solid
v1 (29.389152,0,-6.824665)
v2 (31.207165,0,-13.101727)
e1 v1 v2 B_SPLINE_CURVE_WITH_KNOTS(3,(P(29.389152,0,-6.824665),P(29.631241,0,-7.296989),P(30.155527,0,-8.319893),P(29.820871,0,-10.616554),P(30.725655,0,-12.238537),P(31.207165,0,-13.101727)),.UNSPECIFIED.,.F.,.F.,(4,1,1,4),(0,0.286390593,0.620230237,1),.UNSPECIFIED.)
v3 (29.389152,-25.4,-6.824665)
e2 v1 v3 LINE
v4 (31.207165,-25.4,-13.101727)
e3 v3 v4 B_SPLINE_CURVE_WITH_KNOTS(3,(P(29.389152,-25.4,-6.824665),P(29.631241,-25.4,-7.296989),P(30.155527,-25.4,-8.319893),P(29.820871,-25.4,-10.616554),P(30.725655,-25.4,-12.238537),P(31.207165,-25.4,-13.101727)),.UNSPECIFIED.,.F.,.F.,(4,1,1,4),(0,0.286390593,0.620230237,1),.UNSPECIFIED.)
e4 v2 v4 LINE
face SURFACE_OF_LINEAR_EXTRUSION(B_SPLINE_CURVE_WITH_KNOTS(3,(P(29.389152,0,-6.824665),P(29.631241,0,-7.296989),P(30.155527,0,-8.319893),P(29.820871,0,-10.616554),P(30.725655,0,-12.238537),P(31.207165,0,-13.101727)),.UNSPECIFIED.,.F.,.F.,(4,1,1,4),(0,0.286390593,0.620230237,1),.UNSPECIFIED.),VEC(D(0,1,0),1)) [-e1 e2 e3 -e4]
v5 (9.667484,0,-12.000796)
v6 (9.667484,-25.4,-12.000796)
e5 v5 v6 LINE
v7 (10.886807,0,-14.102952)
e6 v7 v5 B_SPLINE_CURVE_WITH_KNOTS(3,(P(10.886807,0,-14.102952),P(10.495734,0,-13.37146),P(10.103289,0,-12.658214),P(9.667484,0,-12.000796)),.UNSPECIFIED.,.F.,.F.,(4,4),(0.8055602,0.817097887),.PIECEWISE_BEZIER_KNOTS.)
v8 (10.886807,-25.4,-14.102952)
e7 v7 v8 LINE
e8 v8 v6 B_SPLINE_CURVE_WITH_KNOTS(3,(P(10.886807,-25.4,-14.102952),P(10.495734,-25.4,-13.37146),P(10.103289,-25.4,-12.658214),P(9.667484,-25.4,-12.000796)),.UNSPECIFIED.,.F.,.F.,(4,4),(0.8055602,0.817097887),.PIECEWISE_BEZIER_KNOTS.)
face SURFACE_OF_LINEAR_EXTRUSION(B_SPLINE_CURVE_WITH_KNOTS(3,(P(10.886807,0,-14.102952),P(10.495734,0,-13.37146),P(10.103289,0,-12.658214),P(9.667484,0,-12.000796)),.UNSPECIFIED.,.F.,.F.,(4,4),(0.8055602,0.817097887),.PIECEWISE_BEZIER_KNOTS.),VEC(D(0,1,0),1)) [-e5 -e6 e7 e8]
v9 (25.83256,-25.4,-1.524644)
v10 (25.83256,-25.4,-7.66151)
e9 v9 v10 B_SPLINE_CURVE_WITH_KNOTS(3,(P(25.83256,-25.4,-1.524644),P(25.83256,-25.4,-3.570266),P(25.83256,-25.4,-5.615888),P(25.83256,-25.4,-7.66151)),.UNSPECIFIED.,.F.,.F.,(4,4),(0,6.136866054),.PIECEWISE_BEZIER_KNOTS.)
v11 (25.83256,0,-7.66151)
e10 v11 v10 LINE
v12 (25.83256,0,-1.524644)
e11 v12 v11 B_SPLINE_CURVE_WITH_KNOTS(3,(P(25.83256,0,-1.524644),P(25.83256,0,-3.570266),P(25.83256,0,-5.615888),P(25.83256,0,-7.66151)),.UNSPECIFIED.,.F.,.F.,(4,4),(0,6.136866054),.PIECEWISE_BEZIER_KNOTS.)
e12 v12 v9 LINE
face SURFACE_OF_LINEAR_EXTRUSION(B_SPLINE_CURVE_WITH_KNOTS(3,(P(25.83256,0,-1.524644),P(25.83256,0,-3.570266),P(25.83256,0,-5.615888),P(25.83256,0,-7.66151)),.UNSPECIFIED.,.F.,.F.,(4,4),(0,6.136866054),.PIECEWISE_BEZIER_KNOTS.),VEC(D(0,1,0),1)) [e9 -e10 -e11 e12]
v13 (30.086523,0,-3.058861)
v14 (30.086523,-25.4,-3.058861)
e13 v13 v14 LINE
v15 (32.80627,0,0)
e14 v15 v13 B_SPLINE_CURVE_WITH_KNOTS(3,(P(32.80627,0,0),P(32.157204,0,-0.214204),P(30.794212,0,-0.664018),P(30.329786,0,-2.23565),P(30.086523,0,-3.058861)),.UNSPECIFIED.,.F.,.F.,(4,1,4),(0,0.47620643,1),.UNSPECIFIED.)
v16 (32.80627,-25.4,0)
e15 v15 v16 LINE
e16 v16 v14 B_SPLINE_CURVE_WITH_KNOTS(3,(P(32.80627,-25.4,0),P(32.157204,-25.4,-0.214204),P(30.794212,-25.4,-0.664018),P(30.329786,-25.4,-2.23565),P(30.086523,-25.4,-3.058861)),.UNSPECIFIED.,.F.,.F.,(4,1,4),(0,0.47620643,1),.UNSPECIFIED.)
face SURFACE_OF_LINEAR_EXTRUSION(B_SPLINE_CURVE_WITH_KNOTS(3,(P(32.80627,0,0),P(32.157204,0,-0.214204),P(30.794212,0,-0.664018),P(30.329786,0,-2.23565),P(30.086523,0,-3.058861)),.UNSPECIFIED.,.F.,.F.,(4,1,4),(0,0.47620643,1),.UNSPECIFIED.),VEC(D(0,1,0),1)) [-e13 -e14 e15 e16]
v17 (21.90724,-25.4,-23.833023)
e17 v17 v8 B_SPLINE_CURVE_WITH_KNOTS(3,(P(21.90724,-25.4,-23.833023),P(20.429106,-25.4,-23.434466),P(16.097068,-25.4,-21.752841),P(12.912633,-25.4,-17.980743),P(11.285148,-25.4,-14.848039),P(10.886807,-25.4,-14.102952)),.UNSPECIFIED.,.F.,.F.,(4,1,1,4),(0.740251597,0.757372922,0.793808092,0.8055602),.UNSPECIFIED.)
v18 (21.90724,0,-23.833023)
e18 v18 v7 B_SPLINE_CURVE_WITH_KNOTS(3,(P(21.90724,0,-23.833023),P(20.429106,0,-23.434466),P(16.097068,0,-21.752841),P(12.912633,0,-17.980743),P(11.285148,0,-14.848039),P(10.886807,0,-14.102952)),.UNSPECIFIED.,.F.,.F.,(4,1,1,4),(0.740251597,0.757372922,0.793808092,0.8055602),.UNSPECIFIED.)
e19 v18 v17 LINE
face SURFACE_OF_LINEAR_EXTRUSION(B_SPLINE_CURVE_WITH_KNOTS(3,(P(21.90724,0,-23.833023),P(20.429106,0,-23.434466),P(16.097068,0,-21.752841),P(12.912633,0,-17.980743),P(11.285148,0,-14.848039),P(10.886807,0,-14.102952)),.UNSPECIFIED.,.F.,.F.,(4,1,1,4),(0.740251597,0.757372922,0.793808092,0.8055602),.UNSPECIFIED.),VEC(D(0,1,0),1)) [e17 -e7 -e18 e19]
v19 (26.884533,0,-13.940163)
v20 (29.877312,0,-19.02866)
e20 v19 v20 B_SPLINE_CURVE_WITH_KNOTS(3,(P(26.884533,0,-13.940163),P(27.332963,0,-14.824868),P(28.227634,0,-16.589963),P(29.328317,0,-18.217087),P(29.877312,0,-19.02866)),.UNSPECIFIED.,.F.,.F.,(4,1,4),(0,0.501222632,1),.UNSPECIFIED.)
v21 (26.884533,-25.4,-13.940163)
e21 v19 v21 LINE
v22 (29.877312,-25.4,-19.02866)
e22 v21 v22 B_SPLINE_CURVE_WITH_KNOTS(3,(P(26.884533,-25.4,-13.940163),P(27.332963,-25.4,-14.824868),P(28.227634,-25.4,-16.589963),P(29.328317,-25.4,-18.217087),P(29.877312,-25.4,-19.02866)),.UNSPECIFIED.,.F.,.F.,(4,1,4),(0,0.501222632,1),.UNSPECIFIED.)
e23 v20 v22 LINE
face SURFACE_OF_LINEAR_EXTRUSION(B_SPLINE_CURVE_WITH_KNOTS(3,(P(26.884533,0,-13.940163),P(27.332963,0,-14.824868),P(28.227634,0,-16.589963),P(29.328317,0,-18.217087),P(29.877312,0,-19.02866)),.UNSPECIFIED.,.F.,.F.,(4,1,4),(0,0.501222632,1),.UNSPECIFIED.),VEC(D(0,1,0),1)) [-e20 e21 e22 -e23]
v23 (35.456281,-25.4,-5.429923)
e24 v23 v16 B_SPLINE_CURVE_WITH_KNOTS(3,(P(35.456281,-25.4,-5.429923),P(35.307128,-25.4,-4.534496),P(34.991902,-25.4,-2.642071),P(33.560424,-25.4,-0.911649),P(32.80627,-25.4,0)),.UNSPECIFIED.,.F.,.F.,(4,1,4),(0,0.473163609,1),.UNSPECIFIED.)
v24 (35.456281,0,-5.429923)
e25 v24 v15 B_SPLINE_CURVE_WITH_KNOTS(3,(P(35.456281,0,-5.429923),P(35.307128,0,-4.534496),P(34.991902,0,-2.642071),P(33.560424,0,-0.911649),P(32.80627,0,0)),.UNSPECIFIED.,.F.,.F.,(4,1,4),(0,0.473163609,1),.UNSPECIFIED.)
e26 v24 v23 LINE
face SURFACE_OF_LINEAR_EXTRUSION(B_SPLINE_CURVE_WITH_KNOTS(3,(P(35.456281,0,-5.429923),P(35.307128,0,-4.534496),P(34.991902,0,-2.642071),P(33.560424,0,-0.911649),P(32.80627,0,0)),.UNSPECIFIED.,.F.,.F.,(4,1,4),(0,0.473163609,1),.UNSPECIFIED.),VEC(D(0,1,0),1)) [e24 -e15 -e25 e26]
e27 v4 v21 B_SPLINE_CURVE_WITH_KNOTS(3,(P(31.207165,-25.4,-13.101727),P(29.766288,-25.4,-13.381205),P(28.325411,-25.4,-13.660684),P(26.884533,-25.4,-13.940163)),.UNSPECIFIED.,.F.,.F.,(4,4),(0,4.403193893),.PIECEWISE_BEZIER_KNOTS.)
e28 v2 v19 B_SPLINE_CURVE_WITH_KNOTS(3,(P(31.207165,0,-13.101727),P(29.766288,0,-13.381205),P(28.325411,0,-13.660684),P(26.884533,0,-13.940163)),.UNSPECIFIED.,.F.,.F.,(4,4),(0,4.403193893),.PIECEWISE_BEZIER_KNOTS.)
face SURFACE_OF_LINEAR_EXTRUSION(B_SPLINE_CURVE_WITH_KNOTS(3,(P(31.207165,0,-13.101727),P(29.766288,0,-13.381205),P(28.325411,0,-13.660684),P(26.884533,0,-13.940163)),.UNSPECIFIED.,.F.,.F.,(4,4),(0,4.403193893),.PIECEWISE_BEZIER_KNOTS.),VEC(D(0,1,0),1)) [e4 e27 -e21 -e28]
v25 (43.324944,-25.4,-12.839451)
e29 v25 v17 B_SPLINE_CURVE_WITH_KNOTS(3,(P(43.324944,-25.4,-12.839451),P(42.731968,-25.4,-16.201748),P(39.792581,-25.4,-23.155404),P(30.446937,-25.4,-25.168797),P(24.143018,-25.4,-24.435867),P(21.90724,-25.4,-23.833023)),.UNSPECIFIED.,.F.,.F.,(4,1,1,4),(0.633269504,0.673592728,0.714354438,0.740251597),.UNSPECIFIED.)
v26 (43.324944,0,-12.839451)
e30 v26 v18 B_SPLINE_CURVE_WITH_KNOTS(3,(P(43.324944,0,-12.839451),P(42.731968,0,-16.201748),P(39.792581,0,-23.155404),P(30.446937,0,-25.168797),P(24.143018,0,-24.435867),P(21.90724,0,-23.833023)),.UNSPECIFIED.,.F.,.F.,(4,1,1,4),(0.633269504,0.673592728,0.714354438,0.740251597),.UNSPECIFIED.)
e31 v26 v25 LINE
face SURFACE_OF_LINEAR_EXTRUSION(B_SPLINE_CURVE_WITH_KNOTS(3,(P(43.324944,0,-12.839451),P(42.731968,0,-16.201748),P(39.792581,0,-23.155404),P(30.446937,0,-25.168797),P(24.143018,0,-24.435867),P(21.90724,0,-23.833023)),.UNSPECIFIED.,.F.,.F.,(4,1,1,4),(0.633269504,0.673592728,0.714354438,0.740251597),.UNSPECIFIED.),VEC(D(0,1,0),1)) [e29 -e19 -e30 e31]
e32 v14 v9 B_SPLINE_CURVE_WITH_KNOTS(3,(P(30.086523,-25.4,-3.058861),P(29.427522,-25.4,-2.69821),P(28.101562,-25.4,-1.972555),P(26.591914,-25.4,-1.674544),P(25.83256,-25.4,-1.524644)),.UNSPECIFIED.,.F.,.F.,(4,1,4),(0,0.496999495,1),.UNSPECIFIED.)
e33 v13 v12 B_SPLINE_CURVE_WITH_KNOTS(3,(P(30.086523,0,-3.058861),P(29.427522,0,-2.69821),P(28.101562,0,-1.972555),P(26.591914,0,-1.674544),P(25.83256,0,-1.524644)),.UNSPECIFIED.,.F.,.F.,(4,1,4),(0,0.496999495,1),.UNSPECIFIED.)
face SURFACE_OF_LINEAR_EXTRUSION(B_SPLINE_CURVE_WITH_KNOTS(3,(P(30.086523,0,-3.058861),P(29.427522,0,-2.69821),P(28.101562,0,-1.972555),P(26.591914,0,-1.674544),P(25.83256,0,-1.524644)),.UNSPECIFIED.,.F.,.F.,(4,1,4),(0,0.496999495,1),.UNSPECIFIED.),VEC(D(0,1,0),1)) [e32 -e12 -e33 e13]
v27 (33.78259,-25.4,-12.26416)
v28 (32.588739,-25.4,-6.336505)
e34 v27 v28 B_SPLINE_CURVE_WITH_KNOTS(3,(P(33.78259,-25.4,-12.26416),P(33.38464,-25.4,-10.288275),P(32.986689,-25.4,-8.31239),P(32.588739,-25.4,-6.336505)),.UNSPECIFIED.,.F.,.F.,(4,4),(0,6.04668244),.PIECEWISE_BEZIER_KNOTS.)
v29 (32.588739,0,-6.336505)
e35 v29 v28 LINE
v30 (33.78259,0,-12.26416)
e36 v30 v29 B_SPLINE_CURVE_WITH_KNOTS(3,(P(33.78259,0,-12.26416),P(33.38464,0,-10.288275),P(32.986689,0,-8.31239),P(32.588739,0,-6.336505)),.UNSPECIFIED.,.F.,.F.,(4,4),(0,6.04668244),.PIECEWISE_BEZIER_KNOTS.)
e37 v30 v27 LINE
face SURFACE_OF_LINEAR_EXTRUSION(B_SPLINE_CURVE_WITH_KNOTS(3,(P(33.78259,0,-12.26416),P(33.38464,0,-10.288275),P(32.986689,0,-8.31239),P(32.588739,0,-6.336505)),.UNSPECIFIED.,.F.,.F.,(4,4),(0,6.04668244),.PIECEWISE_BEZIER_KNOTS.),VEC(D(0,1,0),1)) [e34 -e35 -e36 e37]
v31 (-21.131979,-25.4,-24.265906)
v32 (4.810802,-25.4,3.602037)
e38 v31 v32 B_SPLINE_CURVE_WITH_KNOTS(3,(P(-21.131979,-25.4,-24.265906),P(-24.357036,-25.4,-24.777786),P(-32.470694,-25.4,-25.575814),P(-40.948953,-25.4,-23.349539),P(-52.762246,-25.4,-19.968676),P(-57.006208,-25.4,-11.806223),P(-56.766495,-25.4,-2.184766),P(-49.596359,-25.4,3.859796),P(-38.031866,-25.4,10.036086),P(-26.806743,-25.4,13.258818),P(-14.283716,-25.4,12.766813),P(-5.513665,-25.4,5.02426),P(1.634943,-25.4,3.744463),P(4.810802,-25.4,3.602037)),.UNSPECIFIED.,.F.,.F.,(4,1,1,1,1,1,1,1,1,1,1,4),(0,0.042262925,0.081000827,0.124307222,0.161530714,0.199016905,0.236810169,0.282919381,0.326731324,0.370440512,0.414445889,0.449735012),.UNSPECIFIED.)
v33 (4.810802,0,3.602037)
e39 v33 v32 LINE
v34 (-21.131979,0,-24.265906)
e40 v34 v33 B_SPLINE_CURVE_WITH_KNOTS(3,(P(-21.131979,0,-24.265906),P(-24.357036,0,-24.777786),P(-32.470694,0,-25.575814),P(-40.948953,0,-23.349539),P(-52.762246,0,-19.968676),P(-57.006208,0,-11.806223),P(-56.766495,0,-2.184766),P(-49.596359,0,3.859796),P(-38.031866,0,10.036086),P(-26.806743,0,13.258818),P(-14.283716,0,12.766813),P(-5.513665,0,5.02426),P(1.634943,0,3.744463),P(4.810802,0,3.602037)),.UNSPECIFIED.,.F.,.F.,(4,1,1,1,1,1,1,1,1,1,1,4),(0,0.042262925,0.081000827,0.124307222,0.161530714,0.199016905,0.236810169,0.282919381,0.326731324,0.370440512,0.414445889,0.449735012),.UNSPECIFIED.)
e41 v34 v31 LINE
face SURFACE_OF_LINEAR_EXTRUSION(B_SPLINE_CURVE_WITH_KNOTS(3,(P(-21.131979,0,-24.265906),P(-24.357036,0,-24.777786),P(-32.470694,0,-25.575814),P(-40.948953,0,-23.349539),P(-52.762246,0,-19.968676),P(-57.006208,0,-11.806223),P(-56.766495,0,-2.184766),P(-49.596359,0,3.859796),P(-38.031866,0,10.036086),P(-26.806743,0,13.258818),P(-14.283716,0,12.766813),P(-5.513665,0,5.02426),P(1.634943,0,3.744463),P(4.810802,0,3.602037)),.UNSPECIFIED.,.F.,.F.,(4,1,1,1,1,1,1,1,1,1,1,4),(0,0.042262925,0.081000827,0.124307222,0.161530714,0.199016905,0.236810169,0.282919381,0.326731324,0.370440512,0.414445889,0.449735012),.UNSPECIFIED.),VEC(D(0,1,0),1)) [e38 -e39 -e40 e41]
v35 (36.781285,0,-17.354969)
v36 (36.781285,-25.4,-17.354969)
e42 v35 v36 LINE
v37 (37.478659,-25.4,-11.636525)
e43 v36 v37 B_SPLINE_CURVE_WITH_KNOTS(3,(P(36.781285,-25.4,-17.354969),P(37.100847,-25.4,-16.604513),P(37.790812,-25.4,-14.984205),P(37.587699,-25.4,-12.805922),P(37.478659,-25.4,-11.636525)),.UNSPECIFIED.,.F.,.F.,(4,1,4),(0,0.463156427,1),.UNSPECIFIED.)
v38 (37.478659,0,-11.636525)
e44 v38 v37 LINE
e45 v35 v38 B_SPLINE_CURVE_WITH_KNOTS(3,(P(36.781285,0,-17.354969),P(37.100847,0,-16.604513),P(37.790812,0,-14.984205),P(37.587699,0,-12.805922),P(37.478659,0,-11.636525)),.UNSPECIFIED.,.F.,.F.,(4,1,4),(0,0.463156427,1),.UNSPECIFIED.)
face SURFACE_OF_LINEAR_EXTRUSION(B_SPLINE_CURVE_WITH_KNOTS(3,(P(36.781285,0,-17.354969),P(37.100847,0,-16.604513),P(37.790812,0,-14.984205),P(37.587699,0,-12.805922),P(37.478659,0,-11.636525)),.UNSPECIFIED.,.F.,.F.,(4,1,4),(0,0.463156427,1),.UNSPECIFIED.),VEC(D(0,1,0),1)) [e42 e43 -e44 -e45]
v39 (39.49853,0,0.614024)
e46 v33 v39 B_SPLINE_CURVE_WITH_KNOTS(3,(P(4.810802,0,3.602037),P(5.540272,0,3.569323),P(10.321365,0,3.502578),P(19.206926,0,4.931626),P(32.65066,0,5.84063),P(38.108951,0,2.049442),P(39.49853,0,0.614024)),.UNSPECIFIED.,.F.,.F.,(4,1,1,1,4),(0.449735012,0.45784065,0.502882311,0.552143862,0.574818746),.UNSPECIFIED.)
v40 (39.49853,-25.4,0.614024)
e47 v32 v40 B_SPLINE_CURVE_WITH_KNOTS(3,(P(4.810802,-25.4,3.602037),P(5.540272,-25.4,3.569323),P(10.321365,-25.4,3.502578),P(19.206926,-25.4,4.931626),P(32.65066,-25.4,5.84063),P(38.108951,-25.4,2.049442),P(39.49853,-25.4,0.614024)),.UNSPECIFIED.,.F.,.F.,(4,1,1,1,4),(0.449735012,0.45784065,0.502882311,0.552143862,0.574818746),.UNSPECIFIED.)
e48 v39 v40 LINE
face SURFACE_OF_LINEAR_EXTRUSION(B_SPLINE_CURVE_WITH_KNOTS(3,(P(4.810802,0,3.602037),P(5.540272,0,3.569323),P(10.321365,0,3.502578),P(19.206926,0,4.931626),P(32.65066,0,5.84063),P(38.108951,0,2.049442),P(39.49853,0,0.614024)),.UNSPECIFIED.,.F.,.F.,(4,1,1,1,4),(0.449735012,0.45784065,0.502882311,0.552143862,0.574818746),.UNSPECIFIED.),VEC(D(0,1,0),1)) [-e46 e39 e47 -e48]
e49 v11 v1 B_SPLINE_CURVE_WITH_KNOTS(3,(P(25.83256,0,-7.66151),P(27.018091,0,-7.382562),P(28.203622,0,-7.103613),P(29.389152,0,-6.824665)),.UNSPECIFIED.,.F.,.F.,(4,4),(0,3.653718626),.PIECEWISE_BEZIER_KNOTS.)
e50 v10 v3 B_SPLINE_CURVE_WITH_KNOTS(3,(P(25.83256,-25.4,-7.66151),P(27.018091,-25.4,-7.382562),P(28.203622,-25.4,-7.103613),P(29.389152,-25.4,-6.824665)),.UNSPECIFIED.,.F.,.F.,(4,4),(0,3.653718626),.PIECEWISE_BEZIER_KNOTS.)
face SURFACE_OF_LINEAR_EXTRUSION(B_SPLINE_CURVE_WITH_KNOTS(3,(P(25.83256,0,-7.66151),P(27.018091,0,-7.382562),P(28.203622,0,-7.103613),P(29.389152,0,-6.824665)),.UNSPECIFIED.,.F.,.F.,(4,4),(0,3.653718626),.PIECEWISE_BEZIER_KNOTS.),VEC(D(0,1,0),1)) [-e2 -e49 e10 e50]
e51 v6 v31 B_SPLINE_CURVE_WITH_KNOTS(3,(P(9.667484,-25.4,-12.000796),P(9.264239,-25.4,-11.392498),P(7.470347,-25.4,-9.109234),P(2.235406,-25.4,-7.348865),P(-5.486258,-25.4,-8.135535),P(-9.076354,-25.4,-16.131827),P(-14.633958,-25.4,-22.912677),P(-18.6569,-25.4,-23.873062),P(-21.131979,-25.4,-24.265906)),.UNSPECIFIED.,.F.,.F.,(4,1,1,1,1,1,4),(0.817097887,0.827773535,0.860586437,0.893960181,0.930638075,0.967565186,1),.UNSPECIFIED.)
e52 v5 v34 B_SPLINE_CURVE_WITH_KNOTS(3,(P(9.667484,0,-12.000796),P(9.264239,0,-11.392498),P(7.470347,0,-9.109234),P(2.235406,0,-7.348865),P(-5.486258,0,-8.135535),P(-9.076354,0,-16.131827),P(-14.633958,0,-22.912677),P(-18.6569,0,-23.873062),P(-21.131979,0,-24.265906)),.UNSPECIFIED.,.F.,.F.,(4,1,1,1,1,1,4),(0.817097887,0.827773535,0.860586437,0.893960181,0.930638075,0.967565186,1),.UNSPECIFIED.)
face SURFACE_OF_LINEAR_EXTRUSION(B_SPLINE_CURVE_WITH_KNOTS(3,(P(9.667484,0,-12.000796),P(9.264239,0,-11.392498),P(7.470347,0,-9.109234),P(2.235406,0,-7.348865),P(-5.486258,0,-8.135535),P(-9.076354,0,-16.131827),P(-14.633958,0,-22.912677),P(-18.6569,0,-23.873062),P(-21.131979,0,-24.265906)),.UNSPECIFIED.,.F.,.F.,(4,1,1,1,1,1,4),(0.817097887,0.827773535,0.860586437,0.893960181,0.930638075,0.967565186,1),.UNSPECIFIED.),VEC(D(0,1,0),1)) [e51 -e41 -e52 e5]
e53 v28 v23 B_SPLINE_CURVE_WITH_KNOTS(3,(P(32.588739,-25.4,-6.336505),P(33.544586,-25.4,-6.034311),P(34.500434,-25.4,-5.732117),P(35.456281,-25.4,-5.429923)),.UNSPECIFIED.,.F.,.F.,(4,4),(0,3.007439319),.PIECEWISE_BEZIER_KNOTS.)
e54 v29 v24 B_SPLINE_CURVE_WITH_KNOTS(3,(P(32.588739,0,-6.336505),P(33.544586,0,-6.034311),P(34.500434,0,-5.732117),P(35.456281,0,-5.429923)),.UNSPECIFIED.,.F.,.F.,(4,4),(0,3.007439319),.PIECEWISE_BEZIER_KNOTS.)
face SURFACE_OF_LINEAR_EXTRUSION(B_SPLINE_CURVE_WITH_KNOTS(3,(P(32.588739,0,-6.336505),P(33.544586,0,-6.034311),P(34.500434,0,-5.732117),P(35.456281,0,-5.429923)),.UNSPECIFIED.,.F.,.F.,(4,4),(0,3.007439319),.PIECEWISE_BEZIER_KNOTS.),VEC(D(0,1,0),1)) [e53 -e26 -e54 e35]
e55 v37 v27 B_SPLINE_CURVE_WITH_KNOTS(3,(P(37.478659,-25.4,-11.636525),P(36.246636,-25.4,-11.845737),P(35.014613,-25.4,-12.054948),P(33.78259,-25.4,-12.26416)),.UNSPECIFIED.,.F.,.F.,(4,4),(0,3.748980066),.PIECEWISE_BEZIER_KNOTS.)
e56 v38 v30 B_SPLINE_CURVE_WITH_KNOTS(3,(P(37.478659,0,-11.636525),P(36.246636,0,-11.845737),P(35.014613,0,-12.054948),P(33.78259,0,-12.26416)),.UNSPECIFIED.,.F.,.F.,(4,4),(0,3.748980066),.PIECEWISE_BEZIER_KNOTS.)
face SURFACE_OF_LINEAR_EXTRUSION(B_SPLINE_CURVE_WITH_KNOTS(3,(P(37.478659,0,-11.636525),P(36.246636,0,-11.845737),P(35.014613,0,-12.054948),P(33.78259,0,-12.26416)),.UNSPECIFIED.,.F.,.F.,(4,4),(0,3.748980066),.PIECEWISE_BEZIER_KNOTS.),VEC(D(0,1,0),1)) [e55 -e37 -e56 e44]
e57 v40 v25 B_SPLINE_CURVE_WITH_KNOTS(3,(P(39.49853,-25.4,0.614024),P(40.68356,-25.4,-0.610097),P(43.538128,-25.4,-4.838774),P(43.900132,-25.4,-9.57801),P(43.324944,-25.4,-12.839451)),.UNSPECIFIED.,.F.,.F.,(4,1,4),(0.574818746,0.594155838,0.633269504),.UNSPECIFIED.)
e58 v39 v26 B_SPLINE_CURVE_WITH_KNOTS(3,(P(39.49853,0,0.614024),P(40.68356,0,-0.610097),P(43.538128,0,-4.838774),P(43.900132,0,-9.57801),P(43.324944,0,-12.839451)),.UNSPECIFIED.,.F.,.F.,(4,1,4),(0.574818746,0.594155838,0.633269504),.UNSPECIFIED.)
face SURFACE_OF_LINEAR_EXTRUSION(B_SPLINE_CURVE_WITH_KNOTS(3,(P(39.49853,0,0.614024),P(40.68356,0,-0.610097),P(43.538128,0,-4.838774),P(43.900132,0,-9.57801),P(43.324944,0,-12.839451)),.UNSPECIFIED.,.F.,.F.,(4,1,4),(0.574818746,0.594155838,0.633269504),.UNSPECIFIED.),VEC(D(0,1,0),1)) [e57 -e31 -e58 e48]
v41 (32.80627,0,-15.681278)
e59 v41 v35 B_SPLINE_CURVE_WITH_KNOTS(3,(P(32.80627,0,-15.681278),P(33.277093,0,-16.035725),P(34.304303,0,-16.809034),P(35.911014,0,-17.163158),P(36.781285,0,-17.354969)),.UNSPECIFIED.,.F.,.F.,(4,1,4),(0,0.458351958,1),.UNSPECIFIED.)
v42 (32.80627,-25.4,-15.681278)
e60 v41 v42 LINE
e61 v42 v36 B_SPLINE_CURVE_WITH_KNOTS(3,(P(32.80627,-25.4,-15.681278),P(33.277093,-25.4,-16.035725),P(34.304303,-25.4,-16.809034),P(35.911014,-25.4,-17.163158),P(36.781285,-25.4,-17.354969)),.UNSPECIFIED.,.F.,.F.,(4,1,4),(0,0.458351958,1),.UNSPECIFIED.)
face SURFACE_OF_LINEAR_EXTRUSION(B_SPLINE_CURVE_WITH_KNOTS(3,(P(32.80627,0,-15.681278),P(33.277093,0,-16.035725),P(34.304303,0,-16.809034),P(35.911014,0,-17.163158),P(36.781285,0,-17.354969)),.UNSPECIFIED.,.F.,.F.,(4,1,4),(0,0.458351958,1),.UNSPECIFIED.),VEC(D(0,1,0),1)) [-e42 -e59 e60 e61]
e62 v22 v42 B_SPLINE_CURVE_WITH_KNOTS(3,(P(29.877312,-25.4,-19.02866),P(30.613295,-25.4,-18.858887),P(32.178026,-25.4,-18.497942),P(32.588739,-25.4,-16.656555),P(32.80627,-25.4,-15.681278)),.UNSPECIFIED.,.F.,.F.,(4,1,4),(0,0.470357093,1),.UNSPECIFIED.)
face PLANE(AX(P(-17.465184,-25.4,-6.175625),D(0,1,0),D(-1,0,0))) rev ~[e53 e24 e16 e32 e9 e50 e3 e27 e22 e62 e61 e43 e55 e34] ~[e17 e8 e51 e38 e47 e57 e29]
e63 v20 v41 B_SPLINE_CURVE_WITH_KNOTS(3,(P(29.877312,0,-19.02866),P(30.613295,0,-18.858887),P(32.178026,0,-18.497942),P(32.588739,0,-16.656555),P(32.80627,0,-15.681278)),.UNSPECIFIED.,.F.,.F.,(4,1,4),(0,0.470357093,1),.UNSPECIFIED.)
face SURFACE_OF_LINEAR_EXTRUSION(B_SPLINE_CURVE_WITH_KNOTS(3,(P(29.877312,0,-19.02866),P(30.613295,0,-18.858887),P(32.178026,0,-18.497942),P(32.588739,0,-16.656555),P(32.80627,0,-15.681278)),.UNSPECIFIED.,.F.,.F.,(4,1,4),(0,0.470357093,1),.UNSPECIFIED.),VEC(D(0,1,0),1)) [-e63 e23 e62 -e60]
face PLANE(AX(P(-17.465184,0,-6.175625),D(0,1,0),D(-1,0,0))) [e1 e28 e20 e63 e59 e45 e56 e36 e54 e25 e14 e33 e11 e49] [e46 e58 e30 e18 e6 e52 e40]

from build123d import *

# Parameters (mm, degrees)
F1_DEPTH = 25.4
F2_DEPTH = 25.4


with BuildPart() as f1:
    # F0 (on Front) → F1 (new body)
    with BuildSketch(Plane.XZ):
        with BuildLine():
            add(Edge.make_bspline(
                [(-21.1319793016, -24.2659058422), (-24.3570358762, -24.7777855387), (-32.4706943336, -25.5758135008), (-40.9489534266, -23.3495393333), (-52.7622456005, -19.9686759054), (-57.0062077936, -11.8062228805), (-56.7664948087, -2.1847660978), (-49.596358892, 3.8597955533), (-38.0318664258, 10.0360858029), (-26.8067426618, 13.2588182995), (-14.2837155857, 12.7668128887), (-5.5136649016, 5.0242601561), (1.6349428916, 3.7444633988), (4.8108015762, 3.6020368793)],
                knots=[0, 0, 0, 0, 0.0422629249, 0.0810008271, 0.1243072224, 0.1615307135, 0.1990169046, 0.2368101691, 0.2829193813, 0.3267313241, 0.3704405115, 0.4144458893, 0.4497350125, 0.4497350125, 0.4497350125, 0.4497350125], degree=3))
            add(Edge.make_bspline(
                [(9.6674837804, -12.0007963851), (9.2642394359, -11.3924981477), (7.4703470646, -9.1092335188), (2.2354055131, -7.3488645606), (-5.4862582953, -8.1355350058), (-9.0763541657, -16.1318268601), (-14.6339584292, -22.9126769642), (-18.6568995605, -23.8730621703), (-21.1319793016, -24.2659058422)],
                knots=[0.8170978874, 0.8170978874, 0.8170978874, 0.8170978874, 0.8277735352, 0.8605864368, 0.8939601806, 0.9306380753, 0.9675651863, 1, 1, 1, 1], degree=3))
            add(Edge.make_bspline(
                [(10.8868069947, -5.8429688215), (10.4803659233, -7.8955780094), (10.0739248519, -9.9481871972), (9.6674837804, -12.0007963851)],
                knots=[0, 0, 0, 0, 6.2773871478, 6.2773871478, 6.2773871478, 6.2773871478], degree=3))
            add(Edge.make_bspline(
                [(-28.3964090049, 3.0346869025), (-15.3020036717, 0.0754683279), (-2.2075983385, -2.8837502468), (10.8868069947, -5.8429688215)],
                knots=[0, 0, 0, 0, 40.2738603864, 40.2738603864, 40.2738603864, 40.2738603864], degree=3))
            add(Edge.make_bspline(
                [(-24.9266810715, -12.0007963851), (-26.0832570493, -6.9889686226), (-27.2398330271, -1.97714086), (-28.3964090049, 3.0346869025)],
                knots=[0, 0, 0, 0, 15.43064385, 15.43064385, 15.43064385, 15.43064385], degree=3))
            add(Edge.make_bspline(
                [(-53.0460588634, -10.1503068581), (-43.6729329328, -10.7671367005), (-34.2998070021, -11.3839665428), (-24.9266810715, -12.0007963851)],
                knots=[0, 0, 0, 0, 28.1802008313, 28.1802008313, 28.1802008313, 28.1802008313], degree=3))
            add(Edge.make_bspline(
                [(-53.0460588634, -10.1503068581), (-53.0460588634, -9.6892326449), (-53.0460588634, -9.2281584317), (-53.0460588634, -8.7670842186)],
                knots=[0, 0, 0, 0, 1.3832226396, 1.3832226396, 1.3832226396, 1.3832226396], degree=3))
            add(Edge.make_bspline(
                [(-53.0460588634, -8.7670842186), (-44.5210884015, -9.3438057229), (-35.9961179396, -9.9205272272), (-27.4711474776, -10.4972487316)],
                knots=[0, 0, 0, 0, 25.6333681289, 25.6333681289, 25.6333681289, 25.6333681289], degree=3))
            add(Edge.make_bspline(
                [(-27.4711474776, -10.4972487316), (-28.6855523785, -5.0998955655), (-29.8999572794, 0.2974576006), (-31.1143621802, 5.6948107667)],
                knots=[0, 0, 0, 0, 16.5968612745, 16.5968612745, 16.5968612745, 16.5968612745], degree=3))
            add(Edge.make_bspline(
                [(-31.1143621802, 5.6948107667), (-16.2555451194, 2.1861237474), (-1.3967280587, -1.322563272), (13.4620890021, -4.8312502913)],
                knots=[0, 0, 0, 0, 45.8023794296, 45.8023794296, 45.8023794296, 45.8023794296], degree=3))
            add(Edge.make_bspline(
                [(13.4620890021, -4.8312502913), (12.6036616663, -7.92181758), (11.7452343305, -11.0123848687), (10.8868069947, -14.1029521574)],
                knots=[0, 0, 0, 0, 9.6227092293, 9.6227092293, 9.6227092293, 9.6227092293], degree=3))
            add(Edge.make_bspline(
                [(21.9072404805, -23.8330229858), (20.4291064105, -23.4344663519), (16.0970680715, -21.7528409011), (12.9126333784, -17.9807425734), (11.2851478396, -14.8480385819), (10.8868069947, -14.1029521574)],
                knots=[0.7402515966, 0.7402515966, 0.7402515966, 0.7402515966, 0.7573729221, 0.7938080917, 0.8055602001, 0.8055602001, 0.8055602001, 0.8055602001], degree=3))
            add(Edge.make_bspline(
                [(21.9072404805, -23.8330229858), (20.4924234742, -20.5493035752), (19.0795214781, -17.2584819323), (17.6647044718, -13.9747625217)],
                knots=[0, 0, 0, 0, 10.7324000654, 10.7324000654, 10.7324000654, 10.7324000654], degree=3))
            add(Edge.make_bspline(
                [(17.6647044718, -13.9747625217), (18.9077388495, -11.2815212148), (20.1507732272, -8.5882799079), (21.3938076049, -5.895038601)],
                knots=[0, 0, 0, 0, 8.8987723205, 8.8987723205, 8.8987723205, 8.8987723205], degree=3))
            add(Edge.make_bspline(
                [(21.3938076049, -5.895038601), (15.8679470904, -2.6890279748), (10.3366620907, 0.3960262531), (4.8108015762, 3.6020368793)],
                knots=[0, 0, 0, 0, 19.1099589646, 19.1099589646, 19.1099589646, 19.1099589646], degree=3))
        make_face()
        with BuildLine():
            add(Edge.make_bspline(
                [(4.8108015762, 3.6020368793), (5.5402716391, 3.5693226145), (10.3213645362, 3.5025781258), (19.2069255067, 4.9316257915), (32.6506598726, 5.8406302067), (38.1089513561, 2.0494417269), (39.4985303285, 0.6140241302)],
                knots=[0.4497350125, 0.4497350125, 0.4497350125, 0.4497350125, 0.4578406499, 0.5028823113, 0.5521438618, 0.5748187455, 0.5748187455, 0.5748187455, 0.5748187455], degree=3))
            add(Edge.make_bspline(
                [(21.3938076049, -5.895038601), (15.8679470904, -2.6890279748), (10.3366620907, 0.3960262531), (4.8108015762, 3.6020368793)],
                knots=[0, 0, 0, 0, 19.1099589646, 19.1099589646, 19.1099589646, 19.1099589646], degree=3))
            add(Edge.make_bspline(
                [(17.6647044718, -13.9747625217), (18.9077388495, -11.2815212148), (20.1507732272, -8.5882799079), (21.3938076049, -5.895038601)],
                knots=[0, 0, 0, 0, 8.8987723205, 8.8987723205, 8.8987723205, 8.8987723205], degree=3))
            add(Edge.make_bspline(
                [(21.9072404805, -23.8330229858), (20.4924234742, -20.5493035752), (19.0795214781, -17.2584819323), (17.6647044718, -13.9747625217)],
                knots=[0, 0, 0, 0, 10.7324000654, 10.7324000654, 10.7324000654, 10.7324000654], degree=3))
            add(Edge.make_bspline(
                [(43.3249436319, -12.8394505009), (42.7319681607, -16.2017480064), (39.7925814661, -23.155403882), (30.4469371076, -25.1687969732), (24.1430179138, -24.4358667644), (21.9072404805, -23.8330229858)],
                knots=[0.6332695043, 0.6332695043, 0.6332695043, 0.6332695043, 0.6735927279, 0.7143544376, 0.7402515966, 0.7402515966, 0.7402515966, 0.7402515966], degree=3))
            add(Edge.make_bspline(
                [(39.4985303285, 0.6140241302), (40.6835603149, -0.6100969373), (43.5381276946, -4.8387743611), (43.9001318877, -9.5780103037), (43.3249436319, -12.8394505009)],
                knots=[0.5748187455, 0.5748187455, 0.5748187455, 0.5748187455, 0.5941558381, 0.6332695043, 0.6332695043, 0.6332695043, 0.6332695043], degree=3))
        make_face()
        with BuildLine():
            add(Edge.make_bspline(
                [(29.8773124814, -19.02865991), (30.6132948701, -18.858887015), (32.1780260069, -18.4979423251), (32.5887387391, -16.6565554554), (32.8062698245, -15.6812779605)],
                knots=[0, 0, 0, 0, 0.4703570929, 1, 1, 1, 1], degree=3))
            add(Edge.make_bspline(
                [(26.8845334649, -13.9401629567), (27.3329629385, -14.8248683362), (28.227634179, -16.5899629743), (29.3283168669, -18.2170871803), (29.8773124814, -19.02865991)],
                knots=[0, 0, 0, 0, 0.5012226316, 1, 1, 1, 1], degree=3))
            add(Edge.make_bspline(
                [(31.2071647495, -13.1017267704), (29.7662876546, -13.3812054992), (28.3254105598, -13.6606842279), (26.8845334649, -13.9401629567)],
                knots=[0, 0, 0, 0, 4.4031938932, 4.4031938932, 4.4031938932, 4.4031938932], degree=3))
            add(Edge.make_bspline(
                [(29.3891523033, -6.8246647716), (29.6312408565, -7.2969894135), (30.1555270731, -8.3198932074), (29.8208710369, -10.6165544248), (30.72565527, -12.238537367), (31.2071647495, -13.1017267704)],
                knots=[0, 0, 0, 0, 0.2863905933, 0.6202302367, 1, 1, 1, 1], degree=3))
            add(Edge.make_bspline(
                [(25.8325599134, -7.6615102589), (27.01809071, -7.3825617631), (28.2036215067, -7.1036132673), (29.3891523033, -6.8246647716)],
                knots=[0, 0, 0, 0, 3.653718626, 3.653718626, 3.653718626, 3.653718626], degree=3))
            add(Edge.make_bspline(
                [(25.8325599134, -1.5246442053), (25.8325599134, -3.5702662232), (25.8325599134, -5.6158882411), (25.8325599134, -7.6615102589)],
                knots=[0, 0, 0, 0, 6.1368660536, 6.1368660536, 6.1368660536, 6.1368660536], degree=3))
            add(Edge.make_bspline(
                [(30.0865229219, -3.0588605441), (29.42752174, -2.6982102219), (28.1015622789, -1.972554912), (26.5919138408, -1.6745438967), (25.8325599134, -1.5246442053)],
                knots=[0, 0, 0, 0, 0.4969994945, 1, 1, 1, 1], degree=3))
            add(Edge.make_bspline(
                [(32.8062698245, 0), (32.1572042703, -0.2142041), (30.7942122706, -0.6640176399), (30.3297862732, -2.2356497502), (30.0865229219, -3.0588605441)],
                knots=[0, 0, 0, 0, 0.4762064299, 1, 1, 1, 1], degree=3))
            add(Edge.make_bspline(
                [(35.4562811553, -5.4299226031), (35.3071278836, -4.5344958964), (34.9919023066, -2.642070763), (33.5604244511, -0.9116491021), (32.8062698245, 0)],
                knots=[0, 0, 0, 0, 0.4731636094, 1, 1, 1, 1], degree=3))
            add(Edge.make_bspline(
                [(32.5887387391, -6.3365050592), (33.5445862112, -6.0343109071), (34.5004336832, -5.7321167551), (35.4562811553, -5.4299226031)],
                knots=[0, 0, 0, 0, 3.0074393192, 3.0074393192, 3.0074393192, 3.0074393192], degree=3))
            add(Edge.make_bspline(
                [(33.7825901806, -12.264159508), (33.3846397001, -10.2882746918), (32.9866892196, -8.3123898755), (32.5887387391, -6.3365050592)],
                knots=[0, 0, 0, 0, 6.04668244, 6.04668244, 6.04668244, 6.04668244], degree=3))
            add(Edge.make_bspline(
                [(37.478659302, -11.6365253925), (36.2466362615, -11.8457367644), (35.0146132211, -12.0549481362), (33.7825901806, -12.264159508)],
                knots=[0, 0, 0, 0, 3.7489800657, 3.7489800657, 3.7489800657, 3.7489800657], degree=3))
            add(Edge.make_bspline(
                [(36.7812849581, -17.3549689353), (37.1008468874, -16.604512811), (37.7908123304, -14.9842046807), (37.5876992525, -12.8059222928), (37.478659302, -11.6365253925)],
                knots=[0, 0, 0, 0, 0.463156427, 1, 1, 1, 1], degree=3))
            add(Edge.make_bspline(
                [(32.8062698245, -15.6812779605), (33.2770934504, -16.0357254501), (34.3043032576, -16.8090340043), (35.9110135004, -17.1631582375), (36.7812849581, -17.3549689353)],
                knots=[0, 0, 0, 0, 0.4583519576, 1, 1, 1, 1], degree=3))
        make_face(mode=Mode.SUBTRACT)
        with BuildLine():
            add(Edge.make_bspline(
                [(10.8868069947, -5.8429688215), (10.4803659233, -7.8955780094), (10.0739248519, -9.9481871972), (9.6674837804, -12.0007963851)],
                knots=[0, 0, 0, 0, 6.2773871478, 6.2773871478, 6.2773871478, 6.2773871478], degree=3))
            add(Edge.make_bspline(
                [(10.8868069947, -14.1029521574), (10.4957340064, -13.3714600738), (10.1032893871, -12.658213621), (9.6674837804, -12.0007963851)],
                knots=[0.8055602001, 0.8055602001, 0.8055602001, 0.8055602001, 0.8170978874, 0.8170978874, 0.8170978874, 0.8170978874], degree=3))
            add(Edge.make_bspline(
                [(13.4620890021, -4.8312502913), (12.6036616663, -7.92181758), (11.7452343305, -11.0123848687), (10.8868069947, -14.1029521574)],
                knots=[0, 0, 0, 0, 9.6227092293, 9.6227092293, 9.6227092293, 9.6227092293], degree=3))
            add(Edge.make_bspline(
                [(-31.1143621802, 5.6948107667), (-16.2555451194, 2.1861237474), (-1.3967280587, -1.322563272), (13.4620890021, -4.8312502913)],
                knots=[0, 0, 0, 0, 45.8023794296, 45.8023794296, 45.8023794296, 45.8023794296], degree=3))
            add(Edge.make_bspline(
                [(-27.4711474776, -10.4972487316), (-28.6855523785, -5.0998955655), (-29.8999572794, 0.2974576006), (-31.1143621802, 5.6948107667)],
                knots=[0, 0, 0, 0, 16.5968612745, 16.5968612745, 16.5968612745, 16.5968612745], degree=3))
            add(Edge.make_bspline(
                [(-53.0460588634, -8.7670842186), (-44.5210884015, -9.3438057229), (-35.9961179396, -9.9205272272), (-27.4711474776, -10.4972487316)],
                knots=[0, 0, 0, 0, 25.6333681289, 25.6333681289, 25.6333681289, 25.6333681289], degree=3))
            add(Edge.make_bspline(
                [(-53.0460588634, -10.1503068581), (-53.0460588634, -9.6892326449), (-53.0460588634, -9.2281584317), (-53.0460588634, -8.7670842186)],
                knots=[0, 0, 0, 0, 1.3832226396, 1.3832226396, 1.3832226396, 1.3832226396], degree=3))
            add(Edge.make_bspline(
                [(-53.0460588634, -10.1503068581), (-43.6729329328, -10.7671367005), (-34.2998070021, -11.3839665428), (-24.9266810715, -12.0007963851)],
                knots=[0, 0, 0, 0, 28.1802008313, 28.1802008313, 28.1802008313, 28.1802008313], degree=3))
            add(Edge.make_bspline(
                [(-24.9266810715, -12.0007963851), (-26.0832570493, -6.9889686226), (-27.2398330271, -1.97714086), (-28.3964090049, 3.0346869025)],
                knots=[0, 0, 0, 0, 15.43064385, 15.43064385, 15.43064385, 15.43064385], degree=3))
            add(Edge.make_bspline(
                [(-28.3964090049, 3.0346869025), (-15.3020036717, 0.0754683279), (-2.2075983385, -2.8837502468), (10.8868069947, -5.8429688215)],
                knots=[0, 0, 0, 0, 40.2738603864, 40.2738603864, 40.2738603864, 40.2738603864], degree=3))
        make_face()
    extrude(amount=F1_DEPTH)

    # F0 (on Front) → F2 (join)
    with BuildSketch(Plane.XZ):
        with BuildLine():
            add(Edge.make_bspline(
                [(-21.1319793016, -24.2659058422), (-24.3570358762, -24.7777855387), (-32.4706943336, -25.5758135008), (-40.9489534266, -23.3495393333), (-52.7622456005, -19.9686759054), (-57.0062077936, -11.8062228805), (-56.7664948087, -2.1847660978), (-49.596358892, 3.8597955533), (-38.0318664258, 10.0360858029), (-26.8067426618, 13.2588182995), (-14.2837155857, 12.7668128887), (-5.5136649016, 5.0242601561), (1.6349428916, 3.7444633988), (4.8108015762, 3.6020368793)],
                knots=[0, 0, 0, 0, 0.0422629249, 0.0810008271, 0.1243072224, 0.1615307135, 0.1990169046, 0.2368101691, 0.2829193813, 0.3267313241, 0.3704405115, 0.4144458893, 0.4497350125, 0.4497350125, 0.4497350125, 0.4497350125], degree=3))
            add(Edge.make_bspline(
                [(9.6674837804, -12.0007963851), (9.2642394359, -11.3924981477), (7.4703470646, -9.1092335188), (2.2354055131, -7.3488645606), (-5.4862582953, -8.1355350058), (-9.0763541657, -16.1318268601), (-14.6339584292, -22.9126769642), (-18.6568995605, -23.8730621703), (-21.1319793016, -24.2659058422)],
                knots=[0.8170978874, 0.8170978874, 0.8170978874, 0.8170978874, 0.8277735352, 0.8605864368, 0.8939601806, 0.9306380753, 0.9675651863, 1, 1, 1, 1], degree=3))
            add(Edge.make_bspline(
                [(10.8868069947, -5.8429688215), (10.4803659233, -7.8955780094), (10.0739248519, -9.9481871972), (9.6674837804, -12.0007963851)],
                knots=[0, 0, 0, 0, 6.2773871478, 6.2773871478, 6.2773871478, 6.2773871478], degree=3))
            add(Edge.make_bspline(
                [(-28.3964090049, 3.0346869025), (-15.3020036717, 0.0754683279), (-2.2075983385, -2.8837502468), (10.8868069947, -5.8429688215)],
                knots=[0, 0, 0, 0, 40.2738603864, 40.2738603864, 40.2738603864, 40.2738603864], degree=3))
            add(Edge.make_bspline(
                [(-24.9266810715, -12.0007963851), (-26.0832570493, -6.9889686226), (-27.2398330271, -1.97714086), (-28.3964090049, 3.0346869025)],
                knots=[0, 0, 0, 0, 15.43064385, 15.43064385, 15.43064385, 15.43064385], degree=3))
            add(Edge.make_bspline(
                [(-53.0460588634, -10.1503068581), (-43.6729329328, -10.7671367005), (-34.2998070021, -11.3839665428), (-24.9266810715, -12.0007963851)],
                knots=[0, 0, 0, 0, 28.1802008313, 28.1802008313, 28.1802008313, 28.1802008313], degree=3))
            add(Edge.make_bspline(
                [(-53.0460588634, -10.1503068581), (-53.0460588634, -9.6892326449), (-53.0460588634, -9.2281584317), (-53.0460588634, -8.7670842186)],
                knots=[0, 0, 0, 0, 1.3832226396, 1.3832226396, 1.3832226396, 1.3832226396], degree=3))
            add(Edge.make_bspline(
                [(-53.0460588634, -8.7670842186), (-44.5210884015, -9.3438057229), (-35.9961179396, -9.9205272272), (-27.4711474776, -10.4972487316)],
                knots=[0, 0, 0, 0, 25.6333681289, 25.6333681289, 25.6333681289, 25.6333681289], degree=3))
            add(Edge.make_bspline(
                [(-27.4711474776, -10.4972487316), (-28.6855523785, -5.0998955655), (-29.8999572794, 0.2974576006), (-31.1143621802, 5.6948107667)],
                knots=[0, 0, 0, 0, 16.5968612745, 16.5968612745, 16.5968612745, 16.5968612745], degree=3))
            add(Edge.make_bspline(
                [(-31.1143621802, 5.6948107667), (-16.2555451194, 2.1861237474), (-1.3967280587, -1.322563272), (13.4620890021, -4.8312502913)],
                knots=[0, 0, 0, 0, 45.8023794296, 45.8023794296, 45.8023794296, 45.8023794296], degree=3))
            add(Edge.make_bspline(
                [(13.4620890021, -4.8312502913), (12.6036616663, -7.92181758), (11.7452343305, -11.0123848687), (10.8868069947, -14.1029521574)],
                knots=[0, 0, 0, 0, 9.6227092293, 9.6227092293, 9.6227092293, 9.6227092293], degree=3))
            add(Edge.make_bspline(
                [(21.9072404805, -23.8330229858), (20.4291064105, -23.4344663519), (16.0970680715, -21.7528409011), (12.9126333784, -17.9807425734), (11.2851478396, -14.8480385819), (10.8868069947, -14.1029521574)],
                knots=[0.7402515966, 0.7402515966, 0.7402515966, 0.7402515966, 0.7573729221, 0.7938080917, 0.8055602001, 0.8055602001, 0.8055602001, 0.8055602001], degree=3))
            add(Edge.make_bspline(
                [(21.9072404805, -23.8330229858), (20.4924234742, -20.5493035752), (19.0795214781, -17.2584819323), (17.6647044718, -13.9747625217)],
                knots=[0, 0, 0, 0, 10.7324000654, 10.7324000654, 10.7324000654, 10.7324000654], degree=3))
            add(Edge.make_bspline(
                [(17.6647044718, -13.9747625217), (18.9077388495, -11.2815212148), (20.1507732272, -8.5882799079), (21.3938076049, -5.895038601)],
                knots=[0, 0, 0, 0, 8.8987723205, 8.8987723205, 8.8987723205, 8.8987723205], degree=3))
            add(Edge.make_bspline(
                [(21.3938076049, -5.895038601), (15.8679470904, -2.6890279748), (10.3366620907, 0.3960262531), (4.8108015762, 3.6020368793)],
                knots=[0, 0, 0, 0, 19.1099589646, 19.1099589646, 19.1099589646, 19.1099589646], degree=3))
        make_face()
        with BuildLine():
            add(Edge.make_bspline(
                [(4.8108015762, 3.6020368793), (5.5402716391, 3.5693226145), (10.3213645362, 3.5025781258), (19.2069255067, 4.9316257915), (32.6506598726, 5.8406302067), (38.1089513561, 2.0494417269), (39.4985303285, 0.6140241302)],
                knots=[0.4497350125, 0.4497350125, 0.4497350125, 0.4497350125, 0.4578406499, 0.5028823113, 0.5521438618, 0.5748187455, 0.5748187455, 0.5748187455, 0.5748187455], degree=3))
            add(Edge.make_bspline(
                [(21.3938076049, -5.895038601), (15.8679470904, -2.6890279748), (10.3366620907, 0.3960262531), (4.8108015762, 3.6020368793)],
                knots=[0, 0, 0, 0, 19.1099589646, 19.1099589646, 19.1099589646, 19.1099589646], degree=3))
            add(Edge.make_bspline(
                [(17.6647044718, -13.9747625217), (18.9077388495, -11.2815212148), (20.1507732272, -8.5882799079), (21.3938076049, -5.895038601)],
                knots=[0, 0, 0, 0, 8.8987723205, 8.8987723205, 8.8987723205, 8.8987723205], degree=3))
            add(Edge.make_bspline(
                [(21.9072404805, -23.8330229858), (20.4924234742, -20.5493035752), (19.0795214781, -17.2584819323), (17.6647044718, -13.9747625217)],
                knots=[0, 0, 0, 0, 10.7324000654, 10.7324000654, 10.7324000654, 10.7324000654], degree=3))
            add(Edge.make_bspline(
                [(43.3249436319, -12.8394505009), (42.7319681607, -16.2017480064), (39.7925814661, -23.155403882), (30.4469371076, -25.1687969732), (24.1430179138, -24.4358667644), (21.9072404805, -23.8330229858)],
                knots=[0.6332695043, 0.6332695043, 0.6332695043, 0.6332695043, 0.6735927279, 0.7143544376, 0.7402515966, 0.7402515966, 0.7402515966, 0.7402515966], degree=3))
            add(Edge.make_bspline(
                [(39.4985303285, 0.6140241302), (40.6835603149, -0.6100969373), (43.5381276946, -4.8387743611), (43.9001318877, -9.5780103037), (43.3249436319, -12.8394505009)],
                knots=[0.5748187455, 0.5748187455, 0.5748187455, 0.5748187455, 0.5941558381, 0.6332695043, 0.6332695043, 0.6332695043, 0.6332695043], degree=3))
        make_face()
        with BuildLine():
            add(Edge.make_bspline(
                [(29.8773124814, -19.02865991), (30.6132948701, -18.858887015), (32.1780260069, -18.4979423251), (32.5887387391, -16.6565554554), (32.8062698245, -15.6812779605)],
                knots=[0, 0, 0, 0, 0.4703570929, 1, 1, 1, 1], degree=3))
            add(Edge.make_bspline(
                [(26.8845334649, -13.9401629567), (27.3329629385, -14.8248683362), (28.227634179, -16.5899629743), (29.3283168669, -18.2170871803), (29.8773124814, -19.02865991)],
                knots=[0, 0, 0, 0, 0.5012226316, 1, 1, 1, 1], degree=3))
            add(Edge.make_bspline(
                [(31.2071647495, -13.1017267704), (29.7662876546, -13.3812054992), (28.3254105598, -13.6606842279), (26.8845334649, -13.9401629567)],
                knots=[0, 0, 0, 0, 4.4031938932, 4.4031938932, 4.4031938932, 4.4031938932], degree=3))
            add(Edge.make_bspline(
                [(29.3891523033, -6.8246647716), (29.6312408565, -7.2969894135), (30.1555270731, -8.3198932074), (29.8208710369, -10.6165544248), (30.72565527, -12.238537367), (31.2071647495, -13.1017267704)],
                knots=[0, 0, 0, 0, 0.2863905933, 0.6202302367, 1, 1, 1, 1], degree=3))
            add(Edge.make_bspline(
                [(25.8325599134, -7.6615102589), (27.01809071, -7.3825617631), (28.2036215067, -7.1036132673), (29.3891523033, -6.8246647716)],
                knots=[0, 0, 0, 0, 3.653718626, 3.653718626, 3.653718626, 3.653718626], degree=3))
            add(Edge.make_bspline(
                [(25.8325599134, -1.5246442053), (25.8325599134, -3.5702662232), (25.8325599134, -5.6158882411), (25.8325599134, -7.6615102589)],
                knots=[0, 0, 0, 0, 6.1368660536, 6.1368660536, 6.1368660536, 6.1368660536], degree=3))
            add(Edge.make_bspline(
                [(30.0865229219, -3.0588605441), (29.42752174, -2.6982102219), (28.1015622789, -1.972554912), (26.5919138408, -1.6745438967), (25.8325599134, -1.5246442053)],
                knots=[0, 0, 0, 0, 0.4969994945, 1, 1, 1, 1], degree=3))
            add(Edge.make_bspline(
                [(32.8062698245, 0), (32.1572042703, -0.2142041), (30.7942122706, -0.6640176399), (30.3297862732, -2.2356497502), (30.0865229219, -3.0588605441)],
                knots=[0, 0, 0, 0, 0.4762064299, 1, 1, 1, 1], degree=3))
            add(Edge.make_bspline(
                [(35.4562811553, -5.4299226031), (35.3071278836, -4.5344958964), (34.9919023066, -2.642070763), (33.5604244511, -0.9116491021), (32.8062698245, 0)],
                knots=[0, 0, 0, 0, 0.4731636094, 1, 1, 1, 1], degree=3))
            add(Edge.make_bspline(
                [(32.5887387391, -6.3365050592), (33.5445862112, -6.0343109071), (34.5004336832, -5.7321167551), (35.4562811553, -5.4299226031)],
                knots=[0, 0, 0, 0, 3.0074393192, 3.0074393192, 3.0074393192, 3.0074393192], degree=3))
            add(Edge.make_bspline(
                [(33.7825901806, -12.264159508), (33.3846397001, -10.2882746918), (32.9866892196, -8.3123898755), (32.5887387391, -6.3365050592)],
                knots=[0, 0, 0, 0, 6.04668244, 6.04668244, 6.04668244, 6.04668244], degree=3))
            add(Edge.make_bspline(
                [(37.478659302, -11.6365253925), (36.2466362615, -11.8457367644), (35.0146132211, -12.0549481362), (33.7825901806, -12.264159508)],
                knots=[0, 0, 0, 0, 3.7489800657, 3.7489800657, 3.7489800657, 3.7489800657], degree=3))
            add(Edge.make_bspline(
                [(36.7812849581, -17.3549689353), (37.1008468874, -16.604512811), (37.7908123304, -14.9842046807), (37.5876992525, -12.8059222928), (37.478659302, -11.6365253925)],
                knots=[0, 0, 0, 0, 0.463156427, 1, 1, 1, 1], degree=3))
            add(Edge.make_bspline(
                [(32.8062698245, -15.6812779605), (33.2770934504, -16.0357254501), (34.3043032576, -16.8090340043), (35.9110135004, -17.1631582375), (36.7812849581, -17.3549689353)],
                knots=[0, 0, 0, 0, 0.4583519576, 1, 1, 1, 1], degree=3))
        make_face(mode=Mode.SUBTRACT)
        with BuildLine():
            add(Edge.make_bspline(
                [(10.8868069947, -5.8429688215), (10.4803659233, -7.8955780094), (10.0739248519, -9.9481871972), (9.6674837804, -12.0007963851)],
                knots=[0, 0, 0, 0, 6.2773871478, 6.2773871478, 6.2773871478, 6.2773871478], degree=3))
            add(Edge.make_bspline(
                [(10.8868069947, -14.1029521574), (10.4957340064, -13.3714600738), (10.1032893871, -12.658213621), (9.6674837804, -12.0007963851)],
                knots=[0.8055602001, 0.8055602001, 0.8055602001, 0.8055602001, 0.8170978874, 0.8170978874, 0.8170978874, 0.8170978874], degree=3))
            add(Edge.make_bspline(
                [(13.4620890021, -4.8312502913), (12.6036616663, -7.92181758), (11.7452343305, -11.0123848687), (10.8868069947, -14.1029521574)],
                knots=[0, 0, 0, 0, 9.6227092293, 9.6227092293, 9.6227092293, 9.6227092293], degree=3))
            add(Edge.make_bspline(
                [(-31.1143621802, 5.6948107667), (-16.2555451194, 2.1861237474), (-1.3967280587, -1.322563272), (13.4620890021, -4.8312502913)],
                knots=[0, 0, 0, 0, 45.8023794296, 45.8023794296, 45.8023794296, 45.8023794296], degree=3))
            add(Edge.make_bspline(
                [(-27.4711474776, -10.4972487316), (-28.6855523785, -5.0998955655), (-29.8999572794, 0.2974576006), (-31.1143621802, 5.6948107667)],
                knots=[0, 0, 0, 0, 16.5968612745, 16.5968612745, 16.5968612745, 16.5968612745], degree=3))
            add(Edge.make_bspline(
                [(-53.0460588634, -8.7670842186), (-44.5210884015, -9.3438057229), (-35.9961179396, -9.9205272272), (-27.4711474776, -10.4972487316)],
                knots=[0, 0, 0, 0, 25.6333681289, 25.6333681289, 25.6333681289, 25.6333681289], degree=3))
            add(Edge.make_bspline(
                [(-53.0460588634, -10.1503068581), (-53.0460588634, -9.6892326449), (-53.0460588634, -9.2281584317), (-53.0460588634, -8.7670842186)],
                knots=[0, 0, 0, 0, 1.3832226396, 1.3832226396, 1.3832226396, 1.3832226396], degree=3))
            add(Edge.make_bspline(
                [(-53.0460588634, -10.1503068581), (-43.6729329328, -10.7671367005), (-34.2998070021, -11.3839665428), (-24.9266810715, -12.0007963851)],
                knots=[0, 0, 0, 0, 28.1802008313, 28.1802008313, 28.1802008313, 28.1802008313], degree=3))
            add(Edge.make_bspline(
                [(-24.9266810715, -12.0007963851), (-26.0832570493, -6.9889686226), (-27.2398330271, -1.97714086), (-28.3964090049, 3.0346869025)],
                knots=[0, 0, 0, 0, 15.43064385, 15.43064385, 15.43064385, 15.43064385], degree=3))
            add(Edge.make_bspline(
                [(-28.3964090049, 3.0346869025), (-15.3020036717, 0.0754683279), (-2.2075983385, -2.8837502468), (10.8868069947, -5.8429688215)],
                knots=[0, 0, 0, 0, 40.2738603864, 40.2738603864, 40.2738603864, 40.2738603864], degree=3))
        make_face()
    extrude(amount=F2_DEPTH)


solid = f1.part
